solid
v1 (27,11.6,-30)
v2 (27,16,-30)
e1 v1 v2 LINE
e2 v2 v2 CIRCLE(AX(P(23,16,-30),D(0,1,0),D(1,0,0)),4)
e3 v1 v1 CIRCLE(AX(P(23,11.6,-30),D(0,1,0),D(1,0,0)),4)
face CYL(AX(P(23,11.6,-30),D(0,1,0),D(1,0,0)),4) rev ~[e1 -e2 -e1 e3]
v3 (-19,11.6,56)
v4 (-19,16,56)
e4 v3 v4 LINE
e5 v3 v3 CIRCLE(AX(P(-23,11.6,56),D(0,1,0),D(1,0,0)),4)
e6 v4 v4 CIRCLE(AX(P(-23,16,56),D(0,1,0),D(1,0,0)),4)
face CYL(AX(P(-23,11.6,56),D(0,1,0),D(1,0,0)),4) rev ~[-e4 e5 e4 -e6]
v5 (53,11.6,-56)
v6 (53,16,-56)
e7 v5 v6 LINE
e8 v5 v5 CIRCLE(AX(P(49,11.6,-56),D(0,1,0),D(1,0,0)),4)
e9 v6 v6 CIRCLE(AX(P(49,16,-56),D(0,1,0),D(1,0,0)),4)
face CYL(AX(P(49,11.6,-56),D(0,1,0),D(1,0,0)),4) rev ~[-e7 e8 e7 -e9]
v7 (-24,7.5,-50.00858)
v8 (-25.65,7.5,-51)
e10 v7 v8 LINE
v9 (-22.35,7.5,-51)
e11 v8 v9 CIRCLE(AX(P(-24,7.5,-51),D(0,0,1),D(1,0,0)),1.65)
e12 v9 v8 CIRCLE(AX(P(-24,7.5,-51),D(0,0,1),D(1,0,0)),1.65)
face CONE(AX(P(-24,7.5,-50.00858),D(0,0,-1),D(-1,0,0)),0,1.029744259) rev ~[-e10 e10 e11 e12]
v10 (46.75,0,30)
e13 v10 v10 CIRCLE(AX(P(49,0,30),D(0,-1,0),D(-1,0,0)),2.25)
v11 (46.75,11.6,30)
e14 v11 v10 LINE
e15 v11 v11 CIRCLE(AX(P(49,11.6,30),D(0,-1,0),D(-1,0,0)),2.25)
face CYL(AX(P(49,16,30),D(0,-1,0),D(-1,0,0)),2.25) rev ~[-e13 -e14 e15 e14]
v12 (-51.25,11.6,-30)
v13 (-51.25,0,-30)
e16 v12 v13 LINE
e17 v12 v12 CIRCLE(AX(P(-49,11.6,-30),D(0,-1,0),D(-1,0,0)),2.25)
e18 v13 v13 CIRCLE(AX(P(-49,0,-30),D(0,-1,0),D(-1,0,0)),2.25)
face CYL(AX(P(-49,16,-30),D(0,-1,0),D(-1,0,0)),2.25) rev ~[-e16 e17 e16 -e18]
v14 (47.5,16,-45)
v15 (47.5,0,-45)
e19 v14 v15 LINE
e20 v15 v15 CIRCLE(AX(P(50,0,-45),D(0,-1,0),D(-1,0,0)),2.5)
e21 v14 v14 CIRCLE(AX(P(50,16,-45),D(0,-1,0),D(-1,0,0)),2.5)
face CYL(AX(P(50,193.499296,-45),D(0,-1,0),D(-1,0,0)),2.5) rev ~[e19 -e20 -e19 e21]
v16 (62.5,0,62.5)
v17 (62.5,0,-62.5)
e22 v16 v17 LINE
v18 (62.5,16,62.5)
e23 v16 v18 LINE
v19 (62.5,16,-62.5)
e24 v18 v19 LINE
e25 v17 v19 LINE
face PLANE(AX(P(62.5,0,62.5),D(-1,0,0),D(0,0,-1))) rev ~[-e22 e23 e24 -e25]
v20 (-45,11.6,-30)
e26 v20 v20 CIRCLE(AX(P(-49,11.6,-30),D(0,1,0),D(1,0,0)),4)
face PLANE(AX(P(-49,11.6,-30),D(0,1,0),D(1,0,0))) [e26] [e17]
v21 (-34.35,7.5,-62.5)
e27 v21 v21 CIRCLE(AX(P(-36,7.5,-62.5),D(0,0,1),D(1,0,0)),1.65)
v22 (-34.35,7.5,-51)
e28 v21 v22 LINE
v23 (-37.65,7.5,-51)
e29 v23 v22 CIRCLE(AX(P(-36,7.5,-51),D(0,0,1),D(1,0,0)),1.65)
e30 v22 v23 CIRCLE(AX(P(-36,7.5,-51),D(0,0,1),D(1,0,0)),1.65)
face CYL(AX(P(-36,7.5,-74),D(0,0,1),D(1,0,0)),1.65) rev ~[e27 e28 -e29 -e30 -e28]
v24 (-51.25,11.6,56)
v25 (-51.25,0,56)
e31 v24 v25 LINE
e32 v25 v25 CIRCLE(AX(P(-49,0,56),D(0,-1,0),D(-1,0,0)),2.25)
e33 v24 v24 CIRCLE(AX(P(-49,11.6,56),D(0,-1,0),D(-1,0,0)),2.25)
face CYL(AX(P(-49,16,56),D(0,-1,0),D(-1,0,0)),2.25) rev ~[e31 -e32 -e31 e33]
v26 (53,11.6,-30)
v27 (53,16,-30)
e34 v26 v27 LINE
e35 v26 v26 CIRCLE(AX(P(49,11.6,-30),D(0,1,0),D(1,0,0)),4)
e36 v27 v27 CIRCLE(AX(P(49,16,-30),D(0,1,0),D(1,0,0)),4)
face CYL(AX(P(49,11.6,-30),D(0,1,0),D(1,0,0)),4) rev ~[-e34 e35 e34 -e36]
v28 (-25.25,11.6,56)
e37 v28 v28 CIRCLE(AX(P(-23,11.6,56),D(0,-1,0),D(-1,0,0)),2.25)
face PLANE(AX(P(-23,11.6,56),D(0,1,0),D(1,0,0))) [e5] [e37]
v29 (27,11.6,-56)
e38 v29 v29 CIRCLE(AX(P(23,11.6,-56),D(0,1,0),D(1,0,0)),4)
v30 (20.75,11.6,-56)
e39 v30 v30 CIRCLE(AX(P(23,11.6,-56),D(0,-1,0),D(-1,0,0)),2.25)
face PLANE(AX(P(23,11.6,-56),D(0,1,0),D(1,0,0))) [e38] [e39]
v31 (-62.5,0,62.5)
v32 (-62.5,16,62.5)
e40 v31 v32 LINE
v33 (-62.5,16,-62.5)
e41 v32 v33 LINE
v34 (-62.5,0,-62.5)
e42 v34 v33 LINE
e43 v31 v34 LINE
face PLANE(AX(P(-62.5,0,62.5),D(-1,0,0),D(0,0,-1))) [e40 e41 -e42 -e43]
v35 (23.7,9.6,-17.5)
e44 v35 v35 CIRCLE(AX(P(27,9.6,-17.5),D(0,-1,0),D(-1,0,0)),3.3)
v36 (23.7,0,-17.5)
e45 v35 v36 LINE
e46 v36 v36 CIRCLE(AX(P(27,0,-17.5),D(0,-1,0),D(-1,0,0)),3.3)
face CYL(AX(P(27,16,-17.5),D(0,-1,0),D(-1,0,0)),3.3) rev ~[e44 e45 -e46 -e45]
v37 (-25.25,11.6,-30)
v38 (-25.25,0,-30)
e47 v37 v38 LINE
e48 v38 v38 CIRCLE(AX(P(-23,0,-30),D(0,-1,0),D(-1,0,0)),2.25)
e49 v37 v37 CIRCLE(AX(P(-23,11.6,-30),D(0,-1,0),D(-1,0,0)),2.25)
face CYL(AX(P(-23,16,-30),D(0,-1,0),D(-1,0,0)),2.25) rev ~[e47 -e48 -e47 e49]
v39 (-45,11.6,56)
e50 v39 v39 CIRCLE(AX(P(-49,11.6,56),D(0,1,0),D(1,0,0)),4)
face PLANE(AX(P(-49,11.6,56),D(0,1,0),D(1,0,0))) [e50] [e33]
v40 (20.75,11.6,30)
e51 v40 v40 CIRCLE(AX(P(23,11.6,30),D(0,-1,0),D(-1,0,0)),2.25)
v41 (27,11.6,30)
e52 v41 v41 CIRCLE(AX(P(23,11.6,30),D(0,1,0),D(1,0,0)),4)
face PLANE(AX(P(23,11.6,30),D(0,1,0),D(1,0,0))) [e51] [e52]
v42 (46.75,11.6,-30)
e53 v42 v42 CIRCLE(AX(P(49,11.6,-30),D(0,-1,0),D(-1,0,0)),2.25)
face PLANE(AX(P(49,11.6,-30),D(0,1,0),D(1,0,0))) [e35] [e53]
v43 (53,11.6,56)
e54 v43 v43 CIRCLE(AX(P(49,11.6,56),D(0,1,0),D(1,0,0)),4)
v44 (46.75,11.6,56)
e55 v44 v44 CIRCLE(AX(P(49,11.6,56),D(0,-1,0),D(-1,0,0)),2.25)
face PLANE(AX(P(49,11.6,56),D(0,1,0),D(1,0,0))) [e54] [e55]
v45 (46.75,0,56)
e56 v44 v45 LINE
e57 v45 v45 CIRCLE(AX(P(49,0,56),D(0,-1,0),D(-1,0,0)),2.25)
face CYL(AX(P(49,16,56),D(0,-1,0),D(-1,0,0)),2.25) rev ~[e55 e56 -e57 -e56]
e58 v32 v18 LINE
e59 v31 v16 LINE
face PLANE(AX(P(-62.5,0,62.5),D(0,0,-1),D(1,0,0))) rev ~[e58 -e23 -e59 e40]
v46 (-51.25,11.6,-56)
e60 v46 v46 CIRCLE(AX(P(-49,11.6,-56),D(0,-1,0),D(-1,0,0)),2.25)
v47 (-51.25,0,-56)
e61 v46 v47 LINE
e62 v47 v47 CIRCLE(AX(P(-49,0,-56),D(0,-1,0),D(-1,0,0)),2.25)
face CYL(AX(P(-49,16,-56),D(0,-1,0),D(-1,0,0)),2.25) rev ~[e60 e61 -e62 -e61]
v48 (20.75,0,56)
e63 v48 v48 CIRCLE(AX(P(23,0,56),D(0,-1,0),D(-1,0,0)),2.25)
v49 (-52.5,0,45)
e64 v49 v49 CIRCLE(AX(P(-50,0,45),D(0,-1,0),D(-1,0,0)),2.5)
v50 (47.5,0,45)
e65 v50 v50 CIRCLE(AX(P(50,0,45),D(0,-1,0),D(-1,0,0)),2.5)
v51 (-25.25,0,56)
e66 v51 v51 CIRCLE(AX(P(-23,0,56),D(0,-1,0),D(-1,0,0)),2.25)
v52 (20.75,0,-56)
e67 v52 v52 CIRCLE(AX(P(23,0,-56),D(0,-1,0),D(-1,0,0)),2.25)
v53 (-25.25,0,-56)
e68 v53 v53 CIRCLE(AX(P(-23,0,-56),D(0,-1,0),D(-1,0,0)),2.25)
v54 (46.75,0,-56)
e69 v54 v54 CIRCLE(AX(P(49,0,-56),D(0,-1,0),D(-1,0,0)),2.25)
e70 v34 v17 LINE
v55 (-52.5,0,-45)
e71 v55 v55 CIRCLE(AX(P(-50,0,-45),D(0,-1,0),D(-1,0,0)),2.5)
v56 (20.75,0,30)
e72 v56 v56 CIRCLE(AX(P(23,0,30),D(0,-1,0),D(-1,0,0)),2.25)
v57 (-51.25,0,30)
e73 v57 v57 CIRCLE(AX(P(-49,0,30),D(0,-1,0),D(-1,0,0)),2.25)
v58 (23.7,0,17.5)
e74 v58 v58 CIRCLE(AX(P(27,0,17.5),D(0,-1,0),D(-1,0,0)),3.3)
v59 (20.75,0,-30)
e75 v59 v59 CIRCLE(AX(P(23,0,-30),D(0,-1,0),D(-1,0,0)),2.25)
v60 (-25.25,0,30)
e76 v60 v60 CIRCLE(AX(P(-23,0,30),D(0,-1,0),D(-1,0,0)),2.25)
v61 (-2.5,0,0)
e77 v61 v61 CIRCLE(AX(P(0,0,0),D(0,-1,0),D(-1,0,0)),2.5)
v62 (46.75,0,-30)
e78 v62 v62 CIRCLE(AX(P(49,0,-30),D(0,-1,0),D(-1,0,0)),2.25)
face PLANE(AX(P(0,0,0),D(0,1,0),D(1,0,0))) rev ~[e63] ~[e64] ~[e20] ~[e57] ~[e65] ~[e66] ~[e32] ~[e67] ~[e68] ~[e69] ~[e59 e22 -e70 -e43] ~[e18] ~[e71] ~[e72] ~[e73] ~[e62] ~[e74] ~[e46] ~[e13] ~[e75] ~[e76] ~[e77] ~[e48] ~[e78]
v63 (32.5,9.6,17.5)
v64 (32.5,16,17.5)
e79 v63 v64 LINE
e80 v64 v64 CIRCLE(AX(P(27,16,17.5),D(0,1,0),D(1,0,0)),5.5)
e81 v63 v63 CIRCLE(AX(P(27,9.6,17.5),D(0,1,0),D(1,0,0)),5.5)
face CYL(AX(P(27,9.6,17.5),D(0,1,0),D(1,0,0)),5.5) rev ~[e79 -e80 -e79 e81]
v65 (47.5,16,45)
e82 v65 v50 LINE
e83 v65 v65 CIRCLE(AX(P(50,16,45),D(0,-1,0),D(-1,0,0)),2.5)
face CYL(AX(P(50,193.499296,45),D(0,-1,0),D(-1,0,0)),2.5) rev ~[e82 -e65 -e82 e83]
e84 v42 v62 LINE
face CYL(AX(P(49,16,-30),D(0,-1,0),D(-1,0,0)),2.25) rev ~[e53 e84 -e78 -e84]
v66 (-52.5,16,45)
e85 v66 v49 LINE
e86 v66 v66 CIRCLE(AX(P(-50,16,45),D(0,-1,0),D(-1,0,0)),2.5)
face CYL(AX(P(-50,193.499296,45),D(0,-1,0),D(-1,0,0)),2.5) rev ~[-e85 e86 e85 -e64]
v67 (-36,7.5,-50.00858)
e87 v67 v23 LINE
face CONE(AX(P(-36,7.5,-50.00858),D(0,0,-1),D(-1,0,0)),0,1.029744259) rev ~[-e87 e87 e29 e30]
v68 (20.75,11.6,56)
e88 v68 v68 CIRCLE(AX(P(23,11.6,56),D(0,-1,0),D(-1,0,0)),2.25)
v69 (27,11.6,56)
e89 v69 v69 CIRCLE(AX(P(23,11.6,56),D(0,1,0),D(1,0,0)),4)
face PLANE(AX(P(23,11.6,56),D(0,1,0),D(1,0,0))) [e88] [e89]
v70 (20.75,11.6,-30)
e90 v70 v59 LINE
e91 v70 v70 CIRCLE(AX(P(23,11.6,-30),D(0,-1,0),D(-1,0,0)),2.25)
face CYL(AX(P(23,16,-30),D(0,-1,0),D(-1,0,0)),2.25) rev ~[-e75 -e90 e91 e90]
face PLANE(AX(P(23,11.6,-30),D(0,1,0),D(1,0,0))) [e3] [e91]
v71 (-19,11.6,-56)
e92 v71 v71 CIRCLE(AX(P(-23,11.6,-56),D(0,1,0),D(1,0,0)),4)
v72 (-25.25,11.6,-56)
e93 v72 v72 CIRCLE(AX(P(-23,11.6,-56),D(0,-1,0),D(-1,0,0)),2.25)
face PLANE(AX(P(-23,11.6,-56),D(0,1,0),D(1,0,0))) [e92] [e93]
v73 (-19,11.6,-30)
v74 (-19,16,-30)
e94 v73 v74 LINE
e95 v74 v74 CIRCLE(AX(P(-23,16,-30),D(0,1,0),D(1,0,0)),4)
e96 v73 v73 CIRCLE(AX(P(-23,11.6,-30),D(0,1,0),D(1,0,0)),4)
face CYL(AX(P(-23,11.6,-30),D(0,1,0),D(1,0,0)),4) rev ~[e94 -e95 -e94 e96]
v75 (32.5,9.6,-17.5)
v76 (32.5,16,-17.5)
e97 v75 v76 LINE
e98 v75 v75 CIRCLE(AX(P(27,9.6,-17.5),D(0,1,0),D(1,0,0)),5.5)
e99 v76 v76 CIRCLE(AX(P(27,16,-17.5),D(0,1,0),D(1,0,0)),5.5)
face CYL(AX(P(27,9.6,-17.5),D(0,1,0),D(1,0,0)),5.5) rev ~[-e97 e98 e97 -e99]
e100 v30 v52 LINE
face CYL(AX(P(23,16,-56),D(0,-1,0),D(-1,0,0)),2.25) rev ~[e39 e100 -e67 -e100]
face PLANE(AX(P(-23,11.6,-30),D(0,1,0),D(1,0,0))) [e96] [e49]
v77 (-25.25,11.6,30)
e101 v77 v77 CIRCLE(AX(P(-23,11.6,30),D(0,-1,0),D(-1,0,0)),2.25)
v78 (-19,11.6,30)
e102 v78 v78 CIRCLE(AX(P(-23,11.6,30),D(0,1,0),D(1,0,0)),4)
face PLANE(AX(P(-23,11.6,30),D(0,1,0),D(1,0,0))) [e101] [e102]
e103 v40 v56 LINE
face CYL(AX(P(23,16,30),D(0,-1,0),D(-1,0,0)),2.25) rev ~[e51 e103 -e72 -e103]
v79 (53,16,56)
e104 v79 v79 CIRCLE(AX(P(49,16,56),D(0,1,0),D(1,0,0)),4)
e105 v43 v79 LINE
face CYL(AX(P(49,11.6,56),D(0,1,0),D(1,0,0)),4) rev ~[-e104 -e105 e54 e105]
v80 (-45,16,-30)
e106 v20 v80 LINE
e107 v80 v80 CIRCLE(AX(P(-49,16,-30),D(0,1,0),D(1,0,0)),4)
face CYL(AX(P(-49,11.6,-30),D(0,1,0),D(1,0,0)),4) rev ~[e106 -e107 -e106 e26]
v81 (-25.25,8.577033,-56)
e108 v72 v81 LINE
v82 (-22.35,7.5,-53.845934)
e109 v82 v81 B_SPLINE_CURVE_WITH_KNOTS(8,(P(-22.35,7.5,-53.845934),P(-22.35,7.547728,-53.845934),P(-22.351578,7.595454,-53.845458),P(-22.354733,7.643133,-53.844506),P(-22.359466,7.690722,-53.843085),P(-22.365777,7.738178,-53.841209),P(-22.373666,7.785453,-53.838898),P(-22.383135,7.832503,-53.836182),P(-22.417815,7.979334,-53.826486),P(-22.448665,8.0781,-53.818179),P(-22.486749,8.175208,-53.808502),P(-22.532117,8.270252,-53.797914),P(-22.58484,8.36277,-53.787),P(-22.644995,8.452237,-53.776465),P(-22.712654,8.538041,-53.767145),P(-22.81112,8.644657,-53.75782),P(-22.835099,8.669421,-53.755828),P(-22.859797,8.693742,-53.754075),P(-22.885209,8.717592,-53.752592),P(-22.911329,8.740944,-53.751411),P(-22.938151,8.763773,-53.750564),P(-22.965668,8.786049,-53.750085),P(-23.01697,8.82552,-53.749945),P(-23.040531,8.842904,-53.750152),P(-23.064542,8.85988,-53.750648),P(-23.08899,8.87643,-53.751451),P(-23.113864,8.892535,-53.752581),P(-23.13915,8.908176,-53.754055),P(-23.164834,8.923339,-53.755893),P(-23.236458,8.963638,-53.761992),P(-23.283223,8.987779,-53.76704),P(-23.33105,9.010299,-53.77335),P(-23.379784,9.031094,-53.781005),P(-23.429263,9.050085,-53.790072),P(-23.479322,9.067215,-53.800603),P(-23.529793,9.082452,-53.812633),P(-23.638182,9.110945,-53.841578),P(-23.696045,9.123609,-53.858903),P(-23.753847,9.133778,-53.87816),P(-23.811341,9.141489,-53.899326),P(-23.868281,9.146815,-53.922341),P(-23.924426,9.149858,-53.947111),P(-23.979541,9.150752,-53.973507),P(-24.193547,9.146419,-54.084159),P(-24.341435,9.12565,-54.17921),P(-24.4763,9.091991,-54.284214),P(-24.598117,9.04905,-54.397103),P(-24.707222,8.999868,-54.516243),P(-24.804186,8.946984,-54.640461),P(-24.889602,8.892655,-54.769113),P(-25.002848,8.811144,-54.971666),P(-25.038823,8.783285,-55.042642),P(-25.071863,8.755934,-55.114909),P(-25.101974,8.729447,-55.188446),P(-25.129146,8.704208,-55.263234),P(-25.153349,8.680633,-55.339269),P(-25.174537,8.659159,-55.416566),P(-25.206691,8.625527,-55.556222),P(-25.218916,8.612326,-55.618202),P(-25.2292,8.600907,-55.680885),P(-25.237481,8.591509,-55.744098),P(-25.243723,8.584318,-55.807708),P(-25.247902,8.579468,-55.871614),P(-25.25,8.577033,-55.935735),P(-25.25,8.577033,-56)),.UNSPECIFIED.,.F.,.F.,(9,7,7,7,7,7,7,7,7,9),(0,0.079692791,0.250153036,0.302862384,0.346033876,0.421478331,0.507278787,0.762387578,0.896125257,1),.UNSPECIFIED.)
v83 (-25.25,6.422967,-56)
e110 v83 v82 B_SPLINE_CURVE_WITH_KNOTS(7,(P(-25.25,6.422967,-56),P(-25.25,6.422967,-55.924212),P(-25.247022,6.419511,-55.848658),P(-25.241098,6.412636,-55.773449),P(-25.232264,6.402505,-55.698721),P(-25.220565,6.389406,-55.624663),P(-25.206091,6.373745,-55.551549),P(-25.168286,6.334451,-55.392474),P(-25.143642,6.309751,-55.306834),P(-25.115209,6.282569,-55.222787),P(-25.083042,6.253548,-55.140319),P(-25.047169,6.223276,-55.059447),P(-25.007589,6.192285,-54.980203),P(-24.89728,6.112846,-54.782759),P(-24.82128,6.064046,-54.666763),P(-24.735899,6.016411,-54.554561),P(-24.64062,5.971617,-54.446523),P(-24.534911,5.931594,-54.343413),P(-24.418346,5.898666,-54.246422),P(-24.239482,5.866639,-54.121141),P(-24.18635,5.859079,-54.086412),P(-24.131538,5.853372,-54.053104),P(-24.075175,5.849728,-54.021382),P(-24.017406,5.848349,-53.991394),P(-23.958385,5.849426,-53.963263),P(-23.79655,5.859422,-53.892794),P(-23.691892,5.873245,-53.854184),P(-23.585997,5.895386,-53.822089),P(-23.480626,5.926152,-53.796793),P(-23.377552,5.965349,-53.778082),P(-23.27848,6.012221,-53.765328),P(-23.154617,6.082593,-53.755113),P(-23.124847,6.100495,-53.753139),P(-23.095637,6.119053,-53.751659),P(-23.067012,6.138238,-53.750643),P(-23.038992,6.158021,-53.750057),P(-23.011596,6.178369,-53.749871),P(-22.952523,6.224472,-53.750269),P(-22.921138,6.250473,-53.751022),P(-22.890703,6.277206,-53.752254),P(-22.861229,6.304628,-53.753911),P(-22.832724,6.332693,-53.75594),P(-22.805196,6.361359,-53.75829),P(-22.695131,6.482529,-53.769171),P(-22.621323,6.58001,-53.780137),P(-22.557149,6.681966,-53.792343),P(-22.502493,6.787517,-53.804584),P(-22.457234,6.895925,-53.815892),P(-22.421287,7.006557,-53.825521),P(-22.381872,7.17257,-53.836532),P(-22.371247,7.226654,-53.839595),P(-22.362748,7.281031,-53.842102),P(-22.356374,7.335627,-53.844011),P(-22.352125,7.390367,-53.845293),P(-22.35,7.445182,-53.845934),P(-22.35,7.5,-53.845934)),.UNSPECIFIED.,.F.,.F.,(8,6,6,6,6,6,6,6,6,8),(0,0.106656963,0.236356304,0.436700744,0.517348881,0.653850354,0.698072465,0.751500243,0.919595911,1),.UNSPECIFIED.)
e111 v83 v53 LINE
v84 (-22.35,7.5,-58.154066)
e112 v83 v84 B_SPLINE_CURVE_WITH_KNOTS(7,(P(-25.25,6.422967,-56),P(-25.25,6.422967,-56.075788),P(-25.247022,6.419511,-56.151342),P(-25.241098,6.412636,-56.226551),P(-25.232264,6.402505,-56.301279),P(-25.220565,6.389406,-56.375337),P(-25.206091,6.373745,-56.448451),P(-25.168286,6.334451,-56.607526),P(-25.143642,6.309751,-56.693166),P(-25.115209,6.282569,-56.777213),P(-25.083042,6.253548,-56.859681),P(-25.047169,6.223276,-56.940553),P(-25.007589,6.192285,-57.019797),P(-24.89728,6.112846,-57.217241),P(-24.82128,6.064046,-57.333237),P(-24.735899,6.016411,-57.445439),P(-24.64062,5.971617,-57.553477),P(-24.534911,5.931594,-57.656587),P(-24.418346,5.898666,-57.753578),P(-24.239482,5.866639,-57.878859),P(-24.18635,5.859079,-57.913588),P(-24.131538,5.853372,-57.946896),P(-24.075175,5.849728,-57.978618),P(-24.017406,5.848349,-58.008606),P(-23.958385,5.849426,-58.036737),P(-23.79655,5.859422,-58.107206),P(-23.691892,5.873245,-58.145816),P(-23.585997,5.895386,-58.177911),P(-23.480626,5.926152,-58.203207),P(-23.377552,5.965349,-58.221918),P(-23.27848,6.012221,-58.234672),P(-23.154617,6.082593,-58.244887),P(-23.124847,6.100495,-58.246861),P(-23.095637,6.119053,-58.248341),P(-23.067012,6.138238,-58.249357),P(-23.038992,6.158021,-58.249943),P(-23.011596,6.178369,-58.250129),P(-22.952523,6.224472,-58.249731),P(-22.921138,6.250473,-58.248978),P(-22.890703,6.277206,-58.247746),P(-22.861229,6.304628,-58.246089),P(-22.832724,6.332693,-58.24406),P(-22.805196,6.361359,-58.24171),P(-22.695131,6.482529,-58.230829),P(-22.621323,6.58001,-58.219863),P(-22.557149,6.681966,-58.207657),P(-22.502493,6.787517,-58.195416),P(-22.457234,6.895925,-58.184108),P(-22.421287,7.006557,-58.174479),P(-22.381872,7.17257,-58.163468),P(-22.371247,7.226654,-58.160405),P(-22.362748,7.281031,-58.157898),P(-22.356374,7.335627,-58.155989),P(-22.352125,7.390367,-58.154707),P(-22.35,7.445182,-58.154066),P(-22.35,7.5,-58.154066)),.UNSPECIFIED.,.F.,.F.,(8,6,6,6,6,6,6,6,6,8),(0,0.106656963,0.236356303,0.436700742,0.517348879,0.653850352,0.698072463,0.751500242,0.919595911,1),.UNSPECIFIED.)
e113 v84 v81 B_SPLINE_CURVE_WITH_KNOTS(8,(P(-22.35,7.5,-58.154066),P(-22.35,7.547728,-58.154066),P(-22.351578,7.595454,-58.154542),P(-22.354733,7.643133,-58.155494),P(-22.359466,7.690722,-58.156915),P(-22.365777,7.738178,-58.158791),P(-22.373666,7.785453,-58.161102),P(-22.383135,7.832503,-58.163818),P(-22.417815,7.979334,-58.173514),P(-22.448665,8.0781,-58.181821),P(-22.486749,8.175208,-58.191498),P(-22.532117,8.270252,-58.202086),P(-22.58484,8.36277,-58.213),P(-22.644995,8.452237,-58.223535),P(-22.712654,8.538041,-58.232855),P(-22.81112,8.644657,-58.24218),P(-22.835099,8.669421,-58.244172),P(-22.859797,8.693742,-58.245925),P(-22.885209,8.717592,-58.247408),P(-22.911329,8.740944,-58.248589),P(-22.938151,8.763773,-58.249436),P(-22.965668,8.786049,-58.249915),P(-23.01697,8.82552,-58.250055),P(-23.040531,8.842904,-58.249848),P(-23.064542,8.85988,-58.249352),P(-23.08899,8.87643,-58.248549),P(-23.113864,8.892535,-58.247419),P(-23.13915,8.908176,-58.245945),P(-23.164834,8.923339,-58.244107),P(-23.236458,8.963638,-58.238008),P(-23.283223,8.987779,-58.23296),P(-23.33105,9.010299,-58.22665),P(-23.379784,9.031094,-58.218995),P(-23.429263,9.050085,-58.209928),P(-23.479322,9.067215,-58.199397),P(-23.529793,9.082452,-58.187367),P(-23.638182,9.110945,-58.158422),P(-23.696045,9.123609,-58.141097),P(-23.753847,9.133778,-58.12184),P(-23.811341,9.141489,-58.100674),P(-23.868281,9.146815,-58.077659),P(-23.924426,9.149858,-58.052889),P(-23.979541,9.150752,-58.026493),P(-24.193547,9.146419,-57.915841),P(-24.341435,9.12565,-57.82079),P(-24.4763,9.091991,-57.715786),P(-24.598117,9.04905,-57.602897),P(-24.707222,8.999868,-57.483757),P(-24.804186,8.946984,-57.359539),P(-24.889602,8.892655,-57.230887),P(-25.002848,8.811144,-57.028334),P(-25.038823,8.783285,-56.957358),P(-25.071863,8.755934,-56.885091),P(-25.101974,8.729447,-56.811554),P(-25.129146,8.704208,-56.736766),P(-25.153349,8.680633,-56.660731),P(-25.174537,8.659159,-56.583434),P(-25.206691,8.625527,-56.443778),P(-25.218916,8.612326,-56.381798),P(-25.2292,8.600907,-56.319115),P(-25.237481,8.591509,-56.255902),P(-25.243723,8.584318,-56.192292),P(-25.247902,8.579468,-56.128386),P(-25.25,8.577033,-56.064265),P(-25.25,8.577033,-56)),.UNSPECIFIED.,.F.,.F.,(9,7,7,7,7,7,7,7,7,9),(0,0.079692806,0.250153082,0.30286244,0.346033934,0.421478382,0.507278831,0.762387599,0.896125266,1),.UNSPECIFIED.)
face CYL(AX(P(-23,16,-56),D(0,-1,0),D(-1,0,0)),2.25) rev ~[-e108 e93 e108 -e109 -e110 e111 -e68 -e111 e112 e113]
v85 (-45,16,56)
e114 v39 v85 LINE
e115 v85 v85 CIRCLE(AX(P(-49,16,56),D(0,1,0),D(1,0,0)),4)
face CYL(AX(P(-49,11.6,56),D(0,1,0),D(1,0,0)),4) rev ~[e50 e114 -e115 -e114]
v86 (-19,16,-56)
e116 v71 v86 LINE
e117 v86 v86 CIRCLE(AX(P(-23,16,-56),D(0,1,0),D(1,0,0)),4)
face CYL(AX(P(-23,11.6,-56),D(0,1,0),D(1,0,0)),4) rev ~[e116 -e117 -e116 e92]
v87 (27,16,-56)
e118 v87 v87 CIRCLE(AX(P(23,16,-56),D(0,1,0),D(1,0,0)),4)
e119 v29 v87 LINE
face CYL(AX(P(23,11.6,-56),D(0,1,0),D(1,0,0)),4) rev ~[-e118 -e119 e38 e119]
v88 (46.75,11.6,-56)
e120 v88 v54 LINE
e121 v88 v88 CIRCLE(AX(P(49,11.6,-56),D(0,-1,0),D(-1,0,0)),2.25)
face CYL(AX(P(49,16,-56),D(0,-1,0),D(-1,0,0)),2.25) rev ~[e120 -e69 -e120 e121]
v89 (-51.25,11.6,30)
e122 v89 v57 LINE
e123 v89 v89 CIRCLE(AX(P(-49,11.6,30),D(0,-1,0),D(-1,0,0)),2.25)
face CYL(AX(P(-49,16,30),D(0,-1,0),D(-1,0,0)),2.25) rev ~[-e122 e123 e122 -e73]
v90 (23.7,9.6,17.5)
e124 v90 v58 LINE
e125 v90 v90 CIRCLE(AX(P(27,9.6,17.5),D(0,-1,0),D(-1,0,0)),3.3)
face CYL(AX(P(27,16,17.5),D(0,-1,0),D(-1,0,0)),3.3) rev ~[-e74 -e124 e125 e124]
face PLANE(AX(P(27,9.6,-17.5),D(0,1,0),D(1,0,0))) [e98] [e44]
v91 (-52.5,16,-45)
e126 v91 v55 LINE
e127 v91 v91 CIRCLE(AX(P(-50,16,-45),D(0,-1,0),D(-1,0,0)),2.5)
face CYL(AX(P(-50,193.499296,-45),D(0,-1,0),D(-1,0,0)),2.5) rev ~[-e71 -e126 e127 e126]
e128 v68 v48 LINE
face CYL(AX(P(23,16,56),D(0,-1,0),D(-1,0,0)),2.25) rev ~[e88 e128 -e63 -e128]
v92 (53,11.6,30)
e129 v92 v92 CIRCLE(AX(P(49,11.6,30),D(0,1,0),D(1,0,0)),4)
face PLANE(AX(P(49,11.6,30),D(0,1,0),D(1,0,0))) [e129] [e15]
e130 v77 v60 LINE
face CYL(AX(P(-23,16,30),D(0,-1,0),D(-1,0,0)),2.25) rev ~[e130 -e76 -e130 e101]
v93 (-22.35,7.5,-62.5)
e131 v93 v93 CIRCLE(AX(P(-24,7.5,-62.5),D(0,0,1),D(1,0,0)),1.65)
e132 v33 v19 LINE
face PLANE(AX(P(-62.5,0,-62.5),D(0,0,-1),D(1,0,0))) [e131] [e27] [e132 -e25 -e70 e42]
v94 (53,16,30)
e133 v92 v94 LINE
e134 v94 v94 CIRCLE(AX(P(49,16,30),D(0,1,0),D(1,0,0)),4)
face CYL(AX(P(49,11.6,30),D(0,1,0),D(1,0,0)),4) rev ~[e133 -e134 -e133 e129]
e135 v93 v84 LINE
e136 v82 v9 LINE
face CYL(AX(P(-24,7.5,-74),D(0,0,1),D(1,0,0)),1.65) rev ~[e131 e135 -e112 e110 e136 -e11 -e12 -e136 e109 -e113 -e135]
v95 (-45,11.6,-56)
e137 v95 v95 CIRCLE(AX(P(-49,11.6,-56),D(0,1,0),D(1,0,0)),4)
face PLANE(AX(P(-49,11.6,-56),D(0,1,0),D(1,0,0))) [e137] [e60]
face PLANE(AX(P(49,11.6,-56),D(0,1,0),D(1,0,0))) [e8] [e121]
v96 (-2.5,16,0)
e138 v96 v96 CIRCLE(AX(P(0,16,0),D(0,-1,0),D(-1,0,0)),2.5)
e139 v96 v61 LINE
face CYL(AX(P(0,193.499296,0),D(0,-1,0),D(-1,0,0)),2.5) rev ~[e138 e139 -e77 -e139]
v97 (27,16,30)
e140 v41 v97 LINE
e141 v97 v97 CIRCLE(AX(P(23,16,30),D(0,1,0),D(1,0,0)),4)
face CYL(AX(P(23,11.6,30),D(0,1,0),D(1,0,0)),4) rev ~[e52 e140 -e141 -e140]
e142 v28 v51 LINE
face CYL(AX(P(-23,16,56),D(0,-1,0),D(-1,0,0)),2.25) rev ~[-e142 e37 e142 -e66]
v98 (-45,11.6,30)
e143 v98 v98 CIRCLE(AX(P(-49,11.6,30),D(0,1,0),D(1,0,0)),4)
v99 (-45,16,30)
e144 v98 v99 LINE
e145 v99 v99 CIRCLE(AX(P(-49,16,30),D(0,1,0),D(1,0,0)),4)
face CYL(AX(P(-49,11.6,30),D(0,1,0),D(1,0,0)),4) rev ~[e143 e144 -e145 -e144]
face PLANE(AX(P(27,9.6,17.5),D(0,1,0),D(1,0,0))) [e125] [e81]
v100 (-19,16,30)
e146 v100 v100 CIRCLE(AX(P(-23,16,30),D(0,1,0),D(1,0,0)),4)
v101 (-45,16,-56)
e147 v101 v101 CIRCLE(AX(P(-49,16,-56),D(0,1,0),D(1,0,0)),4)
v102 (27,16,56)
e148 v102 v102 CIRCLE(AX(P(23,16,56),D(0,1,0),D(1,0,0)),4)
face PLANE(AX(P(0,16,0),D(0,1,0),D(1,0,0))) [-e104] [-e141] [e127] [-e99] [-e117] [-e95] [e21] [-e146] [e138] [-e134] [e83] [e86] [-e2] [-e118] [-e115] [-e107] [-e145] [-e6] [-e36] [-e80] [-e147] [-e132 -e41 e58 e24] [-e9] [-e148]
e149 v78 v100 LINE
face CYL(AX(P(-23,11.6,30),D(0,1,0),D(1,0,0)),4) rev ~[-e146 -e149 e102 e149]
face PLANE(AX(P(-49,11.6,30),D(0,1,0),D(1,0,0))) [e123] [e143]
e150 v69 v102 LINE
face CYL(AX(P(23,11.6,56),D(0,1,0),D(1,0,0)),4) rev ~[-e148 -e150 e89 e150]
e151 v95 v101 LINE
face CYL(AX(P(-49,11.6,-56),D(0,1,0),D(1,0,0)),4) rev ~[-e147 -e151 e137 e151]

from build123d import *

# Parameters (mm, degrees)
SKETCH1_W                                           = 125
SKETCH1_H                                           = 125
EXTRUDE1_DEPTH                                      = 16
CBORE_FOR_M4_HEX_SOCKET_HEAD_CAP_SCREW1_D           = 4.5
CBORE_FOR_M4_HEX_SOCKET_HEAD_CAP_SCREW1_CBORE_D     = 8
CBORE_FOR_M4_HEX_SOCKET_HEAD_CAP_SCREW1_CBORE_DEPTH = 4.4
CBORE_FOR_M6_HEX_SOCKET_HEAD_CAP_SCREW1_D           = 6.6
CBORE_FOR_M6_HEX_SOCKET_HEAD_CAP_SCREW1_CBORE_D     = 11
CBORE_FOR_M6_HEX_SOCKET_HEAD_CAP_SCREW1_CBORE_DEPTH = 6.4
M6_TAPPED_HOLE1_D                                   = 5
M4_TAPPED_HOLE1_D                                   = 3.3
M4_TAPPED_HOLE1_DEPTH                               = 11.5
M4_TAPPED_HOLE1_TIP                                 = 0.991420021


with BuildPart() as part:
    # Sketch1 → Extrude1 (new body)
    with BuildSketch(Plane(origin=(0, 0, 0), x_dir=(1, 0, 0), z_dir=(0, 1, 0))):
        Rectangle(SKETCH1_W, SKETCH1_H)
    extrude(amount=EXTRUDE1_DEPTH)

    # CBORE for M4 Hex Socket Head Cap Screw1 (through all)
    with Locations(Plane(origin=(0, 16, 0), x_dir=(1, 0, 0), z_dir=(0, 1, 0))):
        with Locations((-49, 56), (-23, 56), (-49, 30), (-23, 30), (23, 30), (49, 30), (23, 56), (49, 56), (49, -56), (23, -56), (49, -30), (23, -30), (-23, -56), (-23, -30), (-49, -30), (-49, -56)):
            CounterBoreHole(CBORE_FOR_M4_HEX_SOCKET_HEAD_CAP_SCREW1_D / 2, CBORE_FOR_M4_HEX_SOCKET_HEAD_CAP_SCREW1_CBORE_D / 2, CBORE_FOR_M4_HEX_SOCKET_HEAD_CAP_SCREW1_CBORE_DEPTH)

    # CBORE for M6 Hex Socket Head Cap Screw1 (through all)
    with Locations(Plane(origin=(0, 16, 0), x_dir=(1, 0, 0), z_dir=(0, 1, 0))):
        with Locations((27, 17.5), (27, -17.5)):
            CounterBoreHole(CBORE_FOR_M6_HEX_SOCKET_HEAD_CAP_SCREW1_D / 2, CBORE_FOR_M6_HEX_SOCKET_HEAD_CAP_SCREW1_CBORE_D / 2, CBORE_FOR_M6_HEX_SOCKET_HEAD_CAP_SCREW1_CBORE_DEPTH)

    # M6 Tapped Hole1 (through all)
    with Locations(Plane(origin=(0, 16, 0), x_dir=(1, 0, 0), z_dir=(0, 1, 0))):
        with Locations((-50, 45), (50, 45), (50, -45), (-50, -45), (0, 0)):
            Hole(M6_TAPPED_HOLE1_D / 2)

    # M4 Tapped Hole1
    with Locations(Plane(origin=(0, 0, -62.5), x_dir=(-1, 0, 0), z_dir=(0, 0, -1))):
        with Locations((36, 7.5), (24, 7.5)):
            Hole(M4_TAPPED_HOLE1_D / 2, depth=M4_TAPPED_HOLE1_DEPTH)
            with Locations((0, 0, -(M4_TAPPED_HOLE1_DEPTH + M4_TAPPED_HOLE1_TIP / 2))):  # 118° drill point
                Cone(0, M4_TAPPED_HOLE1_D / 2, M4_TAPPED_HOLE1_TIP, mode=Mode.SUBTRACT)


solid = part.part
